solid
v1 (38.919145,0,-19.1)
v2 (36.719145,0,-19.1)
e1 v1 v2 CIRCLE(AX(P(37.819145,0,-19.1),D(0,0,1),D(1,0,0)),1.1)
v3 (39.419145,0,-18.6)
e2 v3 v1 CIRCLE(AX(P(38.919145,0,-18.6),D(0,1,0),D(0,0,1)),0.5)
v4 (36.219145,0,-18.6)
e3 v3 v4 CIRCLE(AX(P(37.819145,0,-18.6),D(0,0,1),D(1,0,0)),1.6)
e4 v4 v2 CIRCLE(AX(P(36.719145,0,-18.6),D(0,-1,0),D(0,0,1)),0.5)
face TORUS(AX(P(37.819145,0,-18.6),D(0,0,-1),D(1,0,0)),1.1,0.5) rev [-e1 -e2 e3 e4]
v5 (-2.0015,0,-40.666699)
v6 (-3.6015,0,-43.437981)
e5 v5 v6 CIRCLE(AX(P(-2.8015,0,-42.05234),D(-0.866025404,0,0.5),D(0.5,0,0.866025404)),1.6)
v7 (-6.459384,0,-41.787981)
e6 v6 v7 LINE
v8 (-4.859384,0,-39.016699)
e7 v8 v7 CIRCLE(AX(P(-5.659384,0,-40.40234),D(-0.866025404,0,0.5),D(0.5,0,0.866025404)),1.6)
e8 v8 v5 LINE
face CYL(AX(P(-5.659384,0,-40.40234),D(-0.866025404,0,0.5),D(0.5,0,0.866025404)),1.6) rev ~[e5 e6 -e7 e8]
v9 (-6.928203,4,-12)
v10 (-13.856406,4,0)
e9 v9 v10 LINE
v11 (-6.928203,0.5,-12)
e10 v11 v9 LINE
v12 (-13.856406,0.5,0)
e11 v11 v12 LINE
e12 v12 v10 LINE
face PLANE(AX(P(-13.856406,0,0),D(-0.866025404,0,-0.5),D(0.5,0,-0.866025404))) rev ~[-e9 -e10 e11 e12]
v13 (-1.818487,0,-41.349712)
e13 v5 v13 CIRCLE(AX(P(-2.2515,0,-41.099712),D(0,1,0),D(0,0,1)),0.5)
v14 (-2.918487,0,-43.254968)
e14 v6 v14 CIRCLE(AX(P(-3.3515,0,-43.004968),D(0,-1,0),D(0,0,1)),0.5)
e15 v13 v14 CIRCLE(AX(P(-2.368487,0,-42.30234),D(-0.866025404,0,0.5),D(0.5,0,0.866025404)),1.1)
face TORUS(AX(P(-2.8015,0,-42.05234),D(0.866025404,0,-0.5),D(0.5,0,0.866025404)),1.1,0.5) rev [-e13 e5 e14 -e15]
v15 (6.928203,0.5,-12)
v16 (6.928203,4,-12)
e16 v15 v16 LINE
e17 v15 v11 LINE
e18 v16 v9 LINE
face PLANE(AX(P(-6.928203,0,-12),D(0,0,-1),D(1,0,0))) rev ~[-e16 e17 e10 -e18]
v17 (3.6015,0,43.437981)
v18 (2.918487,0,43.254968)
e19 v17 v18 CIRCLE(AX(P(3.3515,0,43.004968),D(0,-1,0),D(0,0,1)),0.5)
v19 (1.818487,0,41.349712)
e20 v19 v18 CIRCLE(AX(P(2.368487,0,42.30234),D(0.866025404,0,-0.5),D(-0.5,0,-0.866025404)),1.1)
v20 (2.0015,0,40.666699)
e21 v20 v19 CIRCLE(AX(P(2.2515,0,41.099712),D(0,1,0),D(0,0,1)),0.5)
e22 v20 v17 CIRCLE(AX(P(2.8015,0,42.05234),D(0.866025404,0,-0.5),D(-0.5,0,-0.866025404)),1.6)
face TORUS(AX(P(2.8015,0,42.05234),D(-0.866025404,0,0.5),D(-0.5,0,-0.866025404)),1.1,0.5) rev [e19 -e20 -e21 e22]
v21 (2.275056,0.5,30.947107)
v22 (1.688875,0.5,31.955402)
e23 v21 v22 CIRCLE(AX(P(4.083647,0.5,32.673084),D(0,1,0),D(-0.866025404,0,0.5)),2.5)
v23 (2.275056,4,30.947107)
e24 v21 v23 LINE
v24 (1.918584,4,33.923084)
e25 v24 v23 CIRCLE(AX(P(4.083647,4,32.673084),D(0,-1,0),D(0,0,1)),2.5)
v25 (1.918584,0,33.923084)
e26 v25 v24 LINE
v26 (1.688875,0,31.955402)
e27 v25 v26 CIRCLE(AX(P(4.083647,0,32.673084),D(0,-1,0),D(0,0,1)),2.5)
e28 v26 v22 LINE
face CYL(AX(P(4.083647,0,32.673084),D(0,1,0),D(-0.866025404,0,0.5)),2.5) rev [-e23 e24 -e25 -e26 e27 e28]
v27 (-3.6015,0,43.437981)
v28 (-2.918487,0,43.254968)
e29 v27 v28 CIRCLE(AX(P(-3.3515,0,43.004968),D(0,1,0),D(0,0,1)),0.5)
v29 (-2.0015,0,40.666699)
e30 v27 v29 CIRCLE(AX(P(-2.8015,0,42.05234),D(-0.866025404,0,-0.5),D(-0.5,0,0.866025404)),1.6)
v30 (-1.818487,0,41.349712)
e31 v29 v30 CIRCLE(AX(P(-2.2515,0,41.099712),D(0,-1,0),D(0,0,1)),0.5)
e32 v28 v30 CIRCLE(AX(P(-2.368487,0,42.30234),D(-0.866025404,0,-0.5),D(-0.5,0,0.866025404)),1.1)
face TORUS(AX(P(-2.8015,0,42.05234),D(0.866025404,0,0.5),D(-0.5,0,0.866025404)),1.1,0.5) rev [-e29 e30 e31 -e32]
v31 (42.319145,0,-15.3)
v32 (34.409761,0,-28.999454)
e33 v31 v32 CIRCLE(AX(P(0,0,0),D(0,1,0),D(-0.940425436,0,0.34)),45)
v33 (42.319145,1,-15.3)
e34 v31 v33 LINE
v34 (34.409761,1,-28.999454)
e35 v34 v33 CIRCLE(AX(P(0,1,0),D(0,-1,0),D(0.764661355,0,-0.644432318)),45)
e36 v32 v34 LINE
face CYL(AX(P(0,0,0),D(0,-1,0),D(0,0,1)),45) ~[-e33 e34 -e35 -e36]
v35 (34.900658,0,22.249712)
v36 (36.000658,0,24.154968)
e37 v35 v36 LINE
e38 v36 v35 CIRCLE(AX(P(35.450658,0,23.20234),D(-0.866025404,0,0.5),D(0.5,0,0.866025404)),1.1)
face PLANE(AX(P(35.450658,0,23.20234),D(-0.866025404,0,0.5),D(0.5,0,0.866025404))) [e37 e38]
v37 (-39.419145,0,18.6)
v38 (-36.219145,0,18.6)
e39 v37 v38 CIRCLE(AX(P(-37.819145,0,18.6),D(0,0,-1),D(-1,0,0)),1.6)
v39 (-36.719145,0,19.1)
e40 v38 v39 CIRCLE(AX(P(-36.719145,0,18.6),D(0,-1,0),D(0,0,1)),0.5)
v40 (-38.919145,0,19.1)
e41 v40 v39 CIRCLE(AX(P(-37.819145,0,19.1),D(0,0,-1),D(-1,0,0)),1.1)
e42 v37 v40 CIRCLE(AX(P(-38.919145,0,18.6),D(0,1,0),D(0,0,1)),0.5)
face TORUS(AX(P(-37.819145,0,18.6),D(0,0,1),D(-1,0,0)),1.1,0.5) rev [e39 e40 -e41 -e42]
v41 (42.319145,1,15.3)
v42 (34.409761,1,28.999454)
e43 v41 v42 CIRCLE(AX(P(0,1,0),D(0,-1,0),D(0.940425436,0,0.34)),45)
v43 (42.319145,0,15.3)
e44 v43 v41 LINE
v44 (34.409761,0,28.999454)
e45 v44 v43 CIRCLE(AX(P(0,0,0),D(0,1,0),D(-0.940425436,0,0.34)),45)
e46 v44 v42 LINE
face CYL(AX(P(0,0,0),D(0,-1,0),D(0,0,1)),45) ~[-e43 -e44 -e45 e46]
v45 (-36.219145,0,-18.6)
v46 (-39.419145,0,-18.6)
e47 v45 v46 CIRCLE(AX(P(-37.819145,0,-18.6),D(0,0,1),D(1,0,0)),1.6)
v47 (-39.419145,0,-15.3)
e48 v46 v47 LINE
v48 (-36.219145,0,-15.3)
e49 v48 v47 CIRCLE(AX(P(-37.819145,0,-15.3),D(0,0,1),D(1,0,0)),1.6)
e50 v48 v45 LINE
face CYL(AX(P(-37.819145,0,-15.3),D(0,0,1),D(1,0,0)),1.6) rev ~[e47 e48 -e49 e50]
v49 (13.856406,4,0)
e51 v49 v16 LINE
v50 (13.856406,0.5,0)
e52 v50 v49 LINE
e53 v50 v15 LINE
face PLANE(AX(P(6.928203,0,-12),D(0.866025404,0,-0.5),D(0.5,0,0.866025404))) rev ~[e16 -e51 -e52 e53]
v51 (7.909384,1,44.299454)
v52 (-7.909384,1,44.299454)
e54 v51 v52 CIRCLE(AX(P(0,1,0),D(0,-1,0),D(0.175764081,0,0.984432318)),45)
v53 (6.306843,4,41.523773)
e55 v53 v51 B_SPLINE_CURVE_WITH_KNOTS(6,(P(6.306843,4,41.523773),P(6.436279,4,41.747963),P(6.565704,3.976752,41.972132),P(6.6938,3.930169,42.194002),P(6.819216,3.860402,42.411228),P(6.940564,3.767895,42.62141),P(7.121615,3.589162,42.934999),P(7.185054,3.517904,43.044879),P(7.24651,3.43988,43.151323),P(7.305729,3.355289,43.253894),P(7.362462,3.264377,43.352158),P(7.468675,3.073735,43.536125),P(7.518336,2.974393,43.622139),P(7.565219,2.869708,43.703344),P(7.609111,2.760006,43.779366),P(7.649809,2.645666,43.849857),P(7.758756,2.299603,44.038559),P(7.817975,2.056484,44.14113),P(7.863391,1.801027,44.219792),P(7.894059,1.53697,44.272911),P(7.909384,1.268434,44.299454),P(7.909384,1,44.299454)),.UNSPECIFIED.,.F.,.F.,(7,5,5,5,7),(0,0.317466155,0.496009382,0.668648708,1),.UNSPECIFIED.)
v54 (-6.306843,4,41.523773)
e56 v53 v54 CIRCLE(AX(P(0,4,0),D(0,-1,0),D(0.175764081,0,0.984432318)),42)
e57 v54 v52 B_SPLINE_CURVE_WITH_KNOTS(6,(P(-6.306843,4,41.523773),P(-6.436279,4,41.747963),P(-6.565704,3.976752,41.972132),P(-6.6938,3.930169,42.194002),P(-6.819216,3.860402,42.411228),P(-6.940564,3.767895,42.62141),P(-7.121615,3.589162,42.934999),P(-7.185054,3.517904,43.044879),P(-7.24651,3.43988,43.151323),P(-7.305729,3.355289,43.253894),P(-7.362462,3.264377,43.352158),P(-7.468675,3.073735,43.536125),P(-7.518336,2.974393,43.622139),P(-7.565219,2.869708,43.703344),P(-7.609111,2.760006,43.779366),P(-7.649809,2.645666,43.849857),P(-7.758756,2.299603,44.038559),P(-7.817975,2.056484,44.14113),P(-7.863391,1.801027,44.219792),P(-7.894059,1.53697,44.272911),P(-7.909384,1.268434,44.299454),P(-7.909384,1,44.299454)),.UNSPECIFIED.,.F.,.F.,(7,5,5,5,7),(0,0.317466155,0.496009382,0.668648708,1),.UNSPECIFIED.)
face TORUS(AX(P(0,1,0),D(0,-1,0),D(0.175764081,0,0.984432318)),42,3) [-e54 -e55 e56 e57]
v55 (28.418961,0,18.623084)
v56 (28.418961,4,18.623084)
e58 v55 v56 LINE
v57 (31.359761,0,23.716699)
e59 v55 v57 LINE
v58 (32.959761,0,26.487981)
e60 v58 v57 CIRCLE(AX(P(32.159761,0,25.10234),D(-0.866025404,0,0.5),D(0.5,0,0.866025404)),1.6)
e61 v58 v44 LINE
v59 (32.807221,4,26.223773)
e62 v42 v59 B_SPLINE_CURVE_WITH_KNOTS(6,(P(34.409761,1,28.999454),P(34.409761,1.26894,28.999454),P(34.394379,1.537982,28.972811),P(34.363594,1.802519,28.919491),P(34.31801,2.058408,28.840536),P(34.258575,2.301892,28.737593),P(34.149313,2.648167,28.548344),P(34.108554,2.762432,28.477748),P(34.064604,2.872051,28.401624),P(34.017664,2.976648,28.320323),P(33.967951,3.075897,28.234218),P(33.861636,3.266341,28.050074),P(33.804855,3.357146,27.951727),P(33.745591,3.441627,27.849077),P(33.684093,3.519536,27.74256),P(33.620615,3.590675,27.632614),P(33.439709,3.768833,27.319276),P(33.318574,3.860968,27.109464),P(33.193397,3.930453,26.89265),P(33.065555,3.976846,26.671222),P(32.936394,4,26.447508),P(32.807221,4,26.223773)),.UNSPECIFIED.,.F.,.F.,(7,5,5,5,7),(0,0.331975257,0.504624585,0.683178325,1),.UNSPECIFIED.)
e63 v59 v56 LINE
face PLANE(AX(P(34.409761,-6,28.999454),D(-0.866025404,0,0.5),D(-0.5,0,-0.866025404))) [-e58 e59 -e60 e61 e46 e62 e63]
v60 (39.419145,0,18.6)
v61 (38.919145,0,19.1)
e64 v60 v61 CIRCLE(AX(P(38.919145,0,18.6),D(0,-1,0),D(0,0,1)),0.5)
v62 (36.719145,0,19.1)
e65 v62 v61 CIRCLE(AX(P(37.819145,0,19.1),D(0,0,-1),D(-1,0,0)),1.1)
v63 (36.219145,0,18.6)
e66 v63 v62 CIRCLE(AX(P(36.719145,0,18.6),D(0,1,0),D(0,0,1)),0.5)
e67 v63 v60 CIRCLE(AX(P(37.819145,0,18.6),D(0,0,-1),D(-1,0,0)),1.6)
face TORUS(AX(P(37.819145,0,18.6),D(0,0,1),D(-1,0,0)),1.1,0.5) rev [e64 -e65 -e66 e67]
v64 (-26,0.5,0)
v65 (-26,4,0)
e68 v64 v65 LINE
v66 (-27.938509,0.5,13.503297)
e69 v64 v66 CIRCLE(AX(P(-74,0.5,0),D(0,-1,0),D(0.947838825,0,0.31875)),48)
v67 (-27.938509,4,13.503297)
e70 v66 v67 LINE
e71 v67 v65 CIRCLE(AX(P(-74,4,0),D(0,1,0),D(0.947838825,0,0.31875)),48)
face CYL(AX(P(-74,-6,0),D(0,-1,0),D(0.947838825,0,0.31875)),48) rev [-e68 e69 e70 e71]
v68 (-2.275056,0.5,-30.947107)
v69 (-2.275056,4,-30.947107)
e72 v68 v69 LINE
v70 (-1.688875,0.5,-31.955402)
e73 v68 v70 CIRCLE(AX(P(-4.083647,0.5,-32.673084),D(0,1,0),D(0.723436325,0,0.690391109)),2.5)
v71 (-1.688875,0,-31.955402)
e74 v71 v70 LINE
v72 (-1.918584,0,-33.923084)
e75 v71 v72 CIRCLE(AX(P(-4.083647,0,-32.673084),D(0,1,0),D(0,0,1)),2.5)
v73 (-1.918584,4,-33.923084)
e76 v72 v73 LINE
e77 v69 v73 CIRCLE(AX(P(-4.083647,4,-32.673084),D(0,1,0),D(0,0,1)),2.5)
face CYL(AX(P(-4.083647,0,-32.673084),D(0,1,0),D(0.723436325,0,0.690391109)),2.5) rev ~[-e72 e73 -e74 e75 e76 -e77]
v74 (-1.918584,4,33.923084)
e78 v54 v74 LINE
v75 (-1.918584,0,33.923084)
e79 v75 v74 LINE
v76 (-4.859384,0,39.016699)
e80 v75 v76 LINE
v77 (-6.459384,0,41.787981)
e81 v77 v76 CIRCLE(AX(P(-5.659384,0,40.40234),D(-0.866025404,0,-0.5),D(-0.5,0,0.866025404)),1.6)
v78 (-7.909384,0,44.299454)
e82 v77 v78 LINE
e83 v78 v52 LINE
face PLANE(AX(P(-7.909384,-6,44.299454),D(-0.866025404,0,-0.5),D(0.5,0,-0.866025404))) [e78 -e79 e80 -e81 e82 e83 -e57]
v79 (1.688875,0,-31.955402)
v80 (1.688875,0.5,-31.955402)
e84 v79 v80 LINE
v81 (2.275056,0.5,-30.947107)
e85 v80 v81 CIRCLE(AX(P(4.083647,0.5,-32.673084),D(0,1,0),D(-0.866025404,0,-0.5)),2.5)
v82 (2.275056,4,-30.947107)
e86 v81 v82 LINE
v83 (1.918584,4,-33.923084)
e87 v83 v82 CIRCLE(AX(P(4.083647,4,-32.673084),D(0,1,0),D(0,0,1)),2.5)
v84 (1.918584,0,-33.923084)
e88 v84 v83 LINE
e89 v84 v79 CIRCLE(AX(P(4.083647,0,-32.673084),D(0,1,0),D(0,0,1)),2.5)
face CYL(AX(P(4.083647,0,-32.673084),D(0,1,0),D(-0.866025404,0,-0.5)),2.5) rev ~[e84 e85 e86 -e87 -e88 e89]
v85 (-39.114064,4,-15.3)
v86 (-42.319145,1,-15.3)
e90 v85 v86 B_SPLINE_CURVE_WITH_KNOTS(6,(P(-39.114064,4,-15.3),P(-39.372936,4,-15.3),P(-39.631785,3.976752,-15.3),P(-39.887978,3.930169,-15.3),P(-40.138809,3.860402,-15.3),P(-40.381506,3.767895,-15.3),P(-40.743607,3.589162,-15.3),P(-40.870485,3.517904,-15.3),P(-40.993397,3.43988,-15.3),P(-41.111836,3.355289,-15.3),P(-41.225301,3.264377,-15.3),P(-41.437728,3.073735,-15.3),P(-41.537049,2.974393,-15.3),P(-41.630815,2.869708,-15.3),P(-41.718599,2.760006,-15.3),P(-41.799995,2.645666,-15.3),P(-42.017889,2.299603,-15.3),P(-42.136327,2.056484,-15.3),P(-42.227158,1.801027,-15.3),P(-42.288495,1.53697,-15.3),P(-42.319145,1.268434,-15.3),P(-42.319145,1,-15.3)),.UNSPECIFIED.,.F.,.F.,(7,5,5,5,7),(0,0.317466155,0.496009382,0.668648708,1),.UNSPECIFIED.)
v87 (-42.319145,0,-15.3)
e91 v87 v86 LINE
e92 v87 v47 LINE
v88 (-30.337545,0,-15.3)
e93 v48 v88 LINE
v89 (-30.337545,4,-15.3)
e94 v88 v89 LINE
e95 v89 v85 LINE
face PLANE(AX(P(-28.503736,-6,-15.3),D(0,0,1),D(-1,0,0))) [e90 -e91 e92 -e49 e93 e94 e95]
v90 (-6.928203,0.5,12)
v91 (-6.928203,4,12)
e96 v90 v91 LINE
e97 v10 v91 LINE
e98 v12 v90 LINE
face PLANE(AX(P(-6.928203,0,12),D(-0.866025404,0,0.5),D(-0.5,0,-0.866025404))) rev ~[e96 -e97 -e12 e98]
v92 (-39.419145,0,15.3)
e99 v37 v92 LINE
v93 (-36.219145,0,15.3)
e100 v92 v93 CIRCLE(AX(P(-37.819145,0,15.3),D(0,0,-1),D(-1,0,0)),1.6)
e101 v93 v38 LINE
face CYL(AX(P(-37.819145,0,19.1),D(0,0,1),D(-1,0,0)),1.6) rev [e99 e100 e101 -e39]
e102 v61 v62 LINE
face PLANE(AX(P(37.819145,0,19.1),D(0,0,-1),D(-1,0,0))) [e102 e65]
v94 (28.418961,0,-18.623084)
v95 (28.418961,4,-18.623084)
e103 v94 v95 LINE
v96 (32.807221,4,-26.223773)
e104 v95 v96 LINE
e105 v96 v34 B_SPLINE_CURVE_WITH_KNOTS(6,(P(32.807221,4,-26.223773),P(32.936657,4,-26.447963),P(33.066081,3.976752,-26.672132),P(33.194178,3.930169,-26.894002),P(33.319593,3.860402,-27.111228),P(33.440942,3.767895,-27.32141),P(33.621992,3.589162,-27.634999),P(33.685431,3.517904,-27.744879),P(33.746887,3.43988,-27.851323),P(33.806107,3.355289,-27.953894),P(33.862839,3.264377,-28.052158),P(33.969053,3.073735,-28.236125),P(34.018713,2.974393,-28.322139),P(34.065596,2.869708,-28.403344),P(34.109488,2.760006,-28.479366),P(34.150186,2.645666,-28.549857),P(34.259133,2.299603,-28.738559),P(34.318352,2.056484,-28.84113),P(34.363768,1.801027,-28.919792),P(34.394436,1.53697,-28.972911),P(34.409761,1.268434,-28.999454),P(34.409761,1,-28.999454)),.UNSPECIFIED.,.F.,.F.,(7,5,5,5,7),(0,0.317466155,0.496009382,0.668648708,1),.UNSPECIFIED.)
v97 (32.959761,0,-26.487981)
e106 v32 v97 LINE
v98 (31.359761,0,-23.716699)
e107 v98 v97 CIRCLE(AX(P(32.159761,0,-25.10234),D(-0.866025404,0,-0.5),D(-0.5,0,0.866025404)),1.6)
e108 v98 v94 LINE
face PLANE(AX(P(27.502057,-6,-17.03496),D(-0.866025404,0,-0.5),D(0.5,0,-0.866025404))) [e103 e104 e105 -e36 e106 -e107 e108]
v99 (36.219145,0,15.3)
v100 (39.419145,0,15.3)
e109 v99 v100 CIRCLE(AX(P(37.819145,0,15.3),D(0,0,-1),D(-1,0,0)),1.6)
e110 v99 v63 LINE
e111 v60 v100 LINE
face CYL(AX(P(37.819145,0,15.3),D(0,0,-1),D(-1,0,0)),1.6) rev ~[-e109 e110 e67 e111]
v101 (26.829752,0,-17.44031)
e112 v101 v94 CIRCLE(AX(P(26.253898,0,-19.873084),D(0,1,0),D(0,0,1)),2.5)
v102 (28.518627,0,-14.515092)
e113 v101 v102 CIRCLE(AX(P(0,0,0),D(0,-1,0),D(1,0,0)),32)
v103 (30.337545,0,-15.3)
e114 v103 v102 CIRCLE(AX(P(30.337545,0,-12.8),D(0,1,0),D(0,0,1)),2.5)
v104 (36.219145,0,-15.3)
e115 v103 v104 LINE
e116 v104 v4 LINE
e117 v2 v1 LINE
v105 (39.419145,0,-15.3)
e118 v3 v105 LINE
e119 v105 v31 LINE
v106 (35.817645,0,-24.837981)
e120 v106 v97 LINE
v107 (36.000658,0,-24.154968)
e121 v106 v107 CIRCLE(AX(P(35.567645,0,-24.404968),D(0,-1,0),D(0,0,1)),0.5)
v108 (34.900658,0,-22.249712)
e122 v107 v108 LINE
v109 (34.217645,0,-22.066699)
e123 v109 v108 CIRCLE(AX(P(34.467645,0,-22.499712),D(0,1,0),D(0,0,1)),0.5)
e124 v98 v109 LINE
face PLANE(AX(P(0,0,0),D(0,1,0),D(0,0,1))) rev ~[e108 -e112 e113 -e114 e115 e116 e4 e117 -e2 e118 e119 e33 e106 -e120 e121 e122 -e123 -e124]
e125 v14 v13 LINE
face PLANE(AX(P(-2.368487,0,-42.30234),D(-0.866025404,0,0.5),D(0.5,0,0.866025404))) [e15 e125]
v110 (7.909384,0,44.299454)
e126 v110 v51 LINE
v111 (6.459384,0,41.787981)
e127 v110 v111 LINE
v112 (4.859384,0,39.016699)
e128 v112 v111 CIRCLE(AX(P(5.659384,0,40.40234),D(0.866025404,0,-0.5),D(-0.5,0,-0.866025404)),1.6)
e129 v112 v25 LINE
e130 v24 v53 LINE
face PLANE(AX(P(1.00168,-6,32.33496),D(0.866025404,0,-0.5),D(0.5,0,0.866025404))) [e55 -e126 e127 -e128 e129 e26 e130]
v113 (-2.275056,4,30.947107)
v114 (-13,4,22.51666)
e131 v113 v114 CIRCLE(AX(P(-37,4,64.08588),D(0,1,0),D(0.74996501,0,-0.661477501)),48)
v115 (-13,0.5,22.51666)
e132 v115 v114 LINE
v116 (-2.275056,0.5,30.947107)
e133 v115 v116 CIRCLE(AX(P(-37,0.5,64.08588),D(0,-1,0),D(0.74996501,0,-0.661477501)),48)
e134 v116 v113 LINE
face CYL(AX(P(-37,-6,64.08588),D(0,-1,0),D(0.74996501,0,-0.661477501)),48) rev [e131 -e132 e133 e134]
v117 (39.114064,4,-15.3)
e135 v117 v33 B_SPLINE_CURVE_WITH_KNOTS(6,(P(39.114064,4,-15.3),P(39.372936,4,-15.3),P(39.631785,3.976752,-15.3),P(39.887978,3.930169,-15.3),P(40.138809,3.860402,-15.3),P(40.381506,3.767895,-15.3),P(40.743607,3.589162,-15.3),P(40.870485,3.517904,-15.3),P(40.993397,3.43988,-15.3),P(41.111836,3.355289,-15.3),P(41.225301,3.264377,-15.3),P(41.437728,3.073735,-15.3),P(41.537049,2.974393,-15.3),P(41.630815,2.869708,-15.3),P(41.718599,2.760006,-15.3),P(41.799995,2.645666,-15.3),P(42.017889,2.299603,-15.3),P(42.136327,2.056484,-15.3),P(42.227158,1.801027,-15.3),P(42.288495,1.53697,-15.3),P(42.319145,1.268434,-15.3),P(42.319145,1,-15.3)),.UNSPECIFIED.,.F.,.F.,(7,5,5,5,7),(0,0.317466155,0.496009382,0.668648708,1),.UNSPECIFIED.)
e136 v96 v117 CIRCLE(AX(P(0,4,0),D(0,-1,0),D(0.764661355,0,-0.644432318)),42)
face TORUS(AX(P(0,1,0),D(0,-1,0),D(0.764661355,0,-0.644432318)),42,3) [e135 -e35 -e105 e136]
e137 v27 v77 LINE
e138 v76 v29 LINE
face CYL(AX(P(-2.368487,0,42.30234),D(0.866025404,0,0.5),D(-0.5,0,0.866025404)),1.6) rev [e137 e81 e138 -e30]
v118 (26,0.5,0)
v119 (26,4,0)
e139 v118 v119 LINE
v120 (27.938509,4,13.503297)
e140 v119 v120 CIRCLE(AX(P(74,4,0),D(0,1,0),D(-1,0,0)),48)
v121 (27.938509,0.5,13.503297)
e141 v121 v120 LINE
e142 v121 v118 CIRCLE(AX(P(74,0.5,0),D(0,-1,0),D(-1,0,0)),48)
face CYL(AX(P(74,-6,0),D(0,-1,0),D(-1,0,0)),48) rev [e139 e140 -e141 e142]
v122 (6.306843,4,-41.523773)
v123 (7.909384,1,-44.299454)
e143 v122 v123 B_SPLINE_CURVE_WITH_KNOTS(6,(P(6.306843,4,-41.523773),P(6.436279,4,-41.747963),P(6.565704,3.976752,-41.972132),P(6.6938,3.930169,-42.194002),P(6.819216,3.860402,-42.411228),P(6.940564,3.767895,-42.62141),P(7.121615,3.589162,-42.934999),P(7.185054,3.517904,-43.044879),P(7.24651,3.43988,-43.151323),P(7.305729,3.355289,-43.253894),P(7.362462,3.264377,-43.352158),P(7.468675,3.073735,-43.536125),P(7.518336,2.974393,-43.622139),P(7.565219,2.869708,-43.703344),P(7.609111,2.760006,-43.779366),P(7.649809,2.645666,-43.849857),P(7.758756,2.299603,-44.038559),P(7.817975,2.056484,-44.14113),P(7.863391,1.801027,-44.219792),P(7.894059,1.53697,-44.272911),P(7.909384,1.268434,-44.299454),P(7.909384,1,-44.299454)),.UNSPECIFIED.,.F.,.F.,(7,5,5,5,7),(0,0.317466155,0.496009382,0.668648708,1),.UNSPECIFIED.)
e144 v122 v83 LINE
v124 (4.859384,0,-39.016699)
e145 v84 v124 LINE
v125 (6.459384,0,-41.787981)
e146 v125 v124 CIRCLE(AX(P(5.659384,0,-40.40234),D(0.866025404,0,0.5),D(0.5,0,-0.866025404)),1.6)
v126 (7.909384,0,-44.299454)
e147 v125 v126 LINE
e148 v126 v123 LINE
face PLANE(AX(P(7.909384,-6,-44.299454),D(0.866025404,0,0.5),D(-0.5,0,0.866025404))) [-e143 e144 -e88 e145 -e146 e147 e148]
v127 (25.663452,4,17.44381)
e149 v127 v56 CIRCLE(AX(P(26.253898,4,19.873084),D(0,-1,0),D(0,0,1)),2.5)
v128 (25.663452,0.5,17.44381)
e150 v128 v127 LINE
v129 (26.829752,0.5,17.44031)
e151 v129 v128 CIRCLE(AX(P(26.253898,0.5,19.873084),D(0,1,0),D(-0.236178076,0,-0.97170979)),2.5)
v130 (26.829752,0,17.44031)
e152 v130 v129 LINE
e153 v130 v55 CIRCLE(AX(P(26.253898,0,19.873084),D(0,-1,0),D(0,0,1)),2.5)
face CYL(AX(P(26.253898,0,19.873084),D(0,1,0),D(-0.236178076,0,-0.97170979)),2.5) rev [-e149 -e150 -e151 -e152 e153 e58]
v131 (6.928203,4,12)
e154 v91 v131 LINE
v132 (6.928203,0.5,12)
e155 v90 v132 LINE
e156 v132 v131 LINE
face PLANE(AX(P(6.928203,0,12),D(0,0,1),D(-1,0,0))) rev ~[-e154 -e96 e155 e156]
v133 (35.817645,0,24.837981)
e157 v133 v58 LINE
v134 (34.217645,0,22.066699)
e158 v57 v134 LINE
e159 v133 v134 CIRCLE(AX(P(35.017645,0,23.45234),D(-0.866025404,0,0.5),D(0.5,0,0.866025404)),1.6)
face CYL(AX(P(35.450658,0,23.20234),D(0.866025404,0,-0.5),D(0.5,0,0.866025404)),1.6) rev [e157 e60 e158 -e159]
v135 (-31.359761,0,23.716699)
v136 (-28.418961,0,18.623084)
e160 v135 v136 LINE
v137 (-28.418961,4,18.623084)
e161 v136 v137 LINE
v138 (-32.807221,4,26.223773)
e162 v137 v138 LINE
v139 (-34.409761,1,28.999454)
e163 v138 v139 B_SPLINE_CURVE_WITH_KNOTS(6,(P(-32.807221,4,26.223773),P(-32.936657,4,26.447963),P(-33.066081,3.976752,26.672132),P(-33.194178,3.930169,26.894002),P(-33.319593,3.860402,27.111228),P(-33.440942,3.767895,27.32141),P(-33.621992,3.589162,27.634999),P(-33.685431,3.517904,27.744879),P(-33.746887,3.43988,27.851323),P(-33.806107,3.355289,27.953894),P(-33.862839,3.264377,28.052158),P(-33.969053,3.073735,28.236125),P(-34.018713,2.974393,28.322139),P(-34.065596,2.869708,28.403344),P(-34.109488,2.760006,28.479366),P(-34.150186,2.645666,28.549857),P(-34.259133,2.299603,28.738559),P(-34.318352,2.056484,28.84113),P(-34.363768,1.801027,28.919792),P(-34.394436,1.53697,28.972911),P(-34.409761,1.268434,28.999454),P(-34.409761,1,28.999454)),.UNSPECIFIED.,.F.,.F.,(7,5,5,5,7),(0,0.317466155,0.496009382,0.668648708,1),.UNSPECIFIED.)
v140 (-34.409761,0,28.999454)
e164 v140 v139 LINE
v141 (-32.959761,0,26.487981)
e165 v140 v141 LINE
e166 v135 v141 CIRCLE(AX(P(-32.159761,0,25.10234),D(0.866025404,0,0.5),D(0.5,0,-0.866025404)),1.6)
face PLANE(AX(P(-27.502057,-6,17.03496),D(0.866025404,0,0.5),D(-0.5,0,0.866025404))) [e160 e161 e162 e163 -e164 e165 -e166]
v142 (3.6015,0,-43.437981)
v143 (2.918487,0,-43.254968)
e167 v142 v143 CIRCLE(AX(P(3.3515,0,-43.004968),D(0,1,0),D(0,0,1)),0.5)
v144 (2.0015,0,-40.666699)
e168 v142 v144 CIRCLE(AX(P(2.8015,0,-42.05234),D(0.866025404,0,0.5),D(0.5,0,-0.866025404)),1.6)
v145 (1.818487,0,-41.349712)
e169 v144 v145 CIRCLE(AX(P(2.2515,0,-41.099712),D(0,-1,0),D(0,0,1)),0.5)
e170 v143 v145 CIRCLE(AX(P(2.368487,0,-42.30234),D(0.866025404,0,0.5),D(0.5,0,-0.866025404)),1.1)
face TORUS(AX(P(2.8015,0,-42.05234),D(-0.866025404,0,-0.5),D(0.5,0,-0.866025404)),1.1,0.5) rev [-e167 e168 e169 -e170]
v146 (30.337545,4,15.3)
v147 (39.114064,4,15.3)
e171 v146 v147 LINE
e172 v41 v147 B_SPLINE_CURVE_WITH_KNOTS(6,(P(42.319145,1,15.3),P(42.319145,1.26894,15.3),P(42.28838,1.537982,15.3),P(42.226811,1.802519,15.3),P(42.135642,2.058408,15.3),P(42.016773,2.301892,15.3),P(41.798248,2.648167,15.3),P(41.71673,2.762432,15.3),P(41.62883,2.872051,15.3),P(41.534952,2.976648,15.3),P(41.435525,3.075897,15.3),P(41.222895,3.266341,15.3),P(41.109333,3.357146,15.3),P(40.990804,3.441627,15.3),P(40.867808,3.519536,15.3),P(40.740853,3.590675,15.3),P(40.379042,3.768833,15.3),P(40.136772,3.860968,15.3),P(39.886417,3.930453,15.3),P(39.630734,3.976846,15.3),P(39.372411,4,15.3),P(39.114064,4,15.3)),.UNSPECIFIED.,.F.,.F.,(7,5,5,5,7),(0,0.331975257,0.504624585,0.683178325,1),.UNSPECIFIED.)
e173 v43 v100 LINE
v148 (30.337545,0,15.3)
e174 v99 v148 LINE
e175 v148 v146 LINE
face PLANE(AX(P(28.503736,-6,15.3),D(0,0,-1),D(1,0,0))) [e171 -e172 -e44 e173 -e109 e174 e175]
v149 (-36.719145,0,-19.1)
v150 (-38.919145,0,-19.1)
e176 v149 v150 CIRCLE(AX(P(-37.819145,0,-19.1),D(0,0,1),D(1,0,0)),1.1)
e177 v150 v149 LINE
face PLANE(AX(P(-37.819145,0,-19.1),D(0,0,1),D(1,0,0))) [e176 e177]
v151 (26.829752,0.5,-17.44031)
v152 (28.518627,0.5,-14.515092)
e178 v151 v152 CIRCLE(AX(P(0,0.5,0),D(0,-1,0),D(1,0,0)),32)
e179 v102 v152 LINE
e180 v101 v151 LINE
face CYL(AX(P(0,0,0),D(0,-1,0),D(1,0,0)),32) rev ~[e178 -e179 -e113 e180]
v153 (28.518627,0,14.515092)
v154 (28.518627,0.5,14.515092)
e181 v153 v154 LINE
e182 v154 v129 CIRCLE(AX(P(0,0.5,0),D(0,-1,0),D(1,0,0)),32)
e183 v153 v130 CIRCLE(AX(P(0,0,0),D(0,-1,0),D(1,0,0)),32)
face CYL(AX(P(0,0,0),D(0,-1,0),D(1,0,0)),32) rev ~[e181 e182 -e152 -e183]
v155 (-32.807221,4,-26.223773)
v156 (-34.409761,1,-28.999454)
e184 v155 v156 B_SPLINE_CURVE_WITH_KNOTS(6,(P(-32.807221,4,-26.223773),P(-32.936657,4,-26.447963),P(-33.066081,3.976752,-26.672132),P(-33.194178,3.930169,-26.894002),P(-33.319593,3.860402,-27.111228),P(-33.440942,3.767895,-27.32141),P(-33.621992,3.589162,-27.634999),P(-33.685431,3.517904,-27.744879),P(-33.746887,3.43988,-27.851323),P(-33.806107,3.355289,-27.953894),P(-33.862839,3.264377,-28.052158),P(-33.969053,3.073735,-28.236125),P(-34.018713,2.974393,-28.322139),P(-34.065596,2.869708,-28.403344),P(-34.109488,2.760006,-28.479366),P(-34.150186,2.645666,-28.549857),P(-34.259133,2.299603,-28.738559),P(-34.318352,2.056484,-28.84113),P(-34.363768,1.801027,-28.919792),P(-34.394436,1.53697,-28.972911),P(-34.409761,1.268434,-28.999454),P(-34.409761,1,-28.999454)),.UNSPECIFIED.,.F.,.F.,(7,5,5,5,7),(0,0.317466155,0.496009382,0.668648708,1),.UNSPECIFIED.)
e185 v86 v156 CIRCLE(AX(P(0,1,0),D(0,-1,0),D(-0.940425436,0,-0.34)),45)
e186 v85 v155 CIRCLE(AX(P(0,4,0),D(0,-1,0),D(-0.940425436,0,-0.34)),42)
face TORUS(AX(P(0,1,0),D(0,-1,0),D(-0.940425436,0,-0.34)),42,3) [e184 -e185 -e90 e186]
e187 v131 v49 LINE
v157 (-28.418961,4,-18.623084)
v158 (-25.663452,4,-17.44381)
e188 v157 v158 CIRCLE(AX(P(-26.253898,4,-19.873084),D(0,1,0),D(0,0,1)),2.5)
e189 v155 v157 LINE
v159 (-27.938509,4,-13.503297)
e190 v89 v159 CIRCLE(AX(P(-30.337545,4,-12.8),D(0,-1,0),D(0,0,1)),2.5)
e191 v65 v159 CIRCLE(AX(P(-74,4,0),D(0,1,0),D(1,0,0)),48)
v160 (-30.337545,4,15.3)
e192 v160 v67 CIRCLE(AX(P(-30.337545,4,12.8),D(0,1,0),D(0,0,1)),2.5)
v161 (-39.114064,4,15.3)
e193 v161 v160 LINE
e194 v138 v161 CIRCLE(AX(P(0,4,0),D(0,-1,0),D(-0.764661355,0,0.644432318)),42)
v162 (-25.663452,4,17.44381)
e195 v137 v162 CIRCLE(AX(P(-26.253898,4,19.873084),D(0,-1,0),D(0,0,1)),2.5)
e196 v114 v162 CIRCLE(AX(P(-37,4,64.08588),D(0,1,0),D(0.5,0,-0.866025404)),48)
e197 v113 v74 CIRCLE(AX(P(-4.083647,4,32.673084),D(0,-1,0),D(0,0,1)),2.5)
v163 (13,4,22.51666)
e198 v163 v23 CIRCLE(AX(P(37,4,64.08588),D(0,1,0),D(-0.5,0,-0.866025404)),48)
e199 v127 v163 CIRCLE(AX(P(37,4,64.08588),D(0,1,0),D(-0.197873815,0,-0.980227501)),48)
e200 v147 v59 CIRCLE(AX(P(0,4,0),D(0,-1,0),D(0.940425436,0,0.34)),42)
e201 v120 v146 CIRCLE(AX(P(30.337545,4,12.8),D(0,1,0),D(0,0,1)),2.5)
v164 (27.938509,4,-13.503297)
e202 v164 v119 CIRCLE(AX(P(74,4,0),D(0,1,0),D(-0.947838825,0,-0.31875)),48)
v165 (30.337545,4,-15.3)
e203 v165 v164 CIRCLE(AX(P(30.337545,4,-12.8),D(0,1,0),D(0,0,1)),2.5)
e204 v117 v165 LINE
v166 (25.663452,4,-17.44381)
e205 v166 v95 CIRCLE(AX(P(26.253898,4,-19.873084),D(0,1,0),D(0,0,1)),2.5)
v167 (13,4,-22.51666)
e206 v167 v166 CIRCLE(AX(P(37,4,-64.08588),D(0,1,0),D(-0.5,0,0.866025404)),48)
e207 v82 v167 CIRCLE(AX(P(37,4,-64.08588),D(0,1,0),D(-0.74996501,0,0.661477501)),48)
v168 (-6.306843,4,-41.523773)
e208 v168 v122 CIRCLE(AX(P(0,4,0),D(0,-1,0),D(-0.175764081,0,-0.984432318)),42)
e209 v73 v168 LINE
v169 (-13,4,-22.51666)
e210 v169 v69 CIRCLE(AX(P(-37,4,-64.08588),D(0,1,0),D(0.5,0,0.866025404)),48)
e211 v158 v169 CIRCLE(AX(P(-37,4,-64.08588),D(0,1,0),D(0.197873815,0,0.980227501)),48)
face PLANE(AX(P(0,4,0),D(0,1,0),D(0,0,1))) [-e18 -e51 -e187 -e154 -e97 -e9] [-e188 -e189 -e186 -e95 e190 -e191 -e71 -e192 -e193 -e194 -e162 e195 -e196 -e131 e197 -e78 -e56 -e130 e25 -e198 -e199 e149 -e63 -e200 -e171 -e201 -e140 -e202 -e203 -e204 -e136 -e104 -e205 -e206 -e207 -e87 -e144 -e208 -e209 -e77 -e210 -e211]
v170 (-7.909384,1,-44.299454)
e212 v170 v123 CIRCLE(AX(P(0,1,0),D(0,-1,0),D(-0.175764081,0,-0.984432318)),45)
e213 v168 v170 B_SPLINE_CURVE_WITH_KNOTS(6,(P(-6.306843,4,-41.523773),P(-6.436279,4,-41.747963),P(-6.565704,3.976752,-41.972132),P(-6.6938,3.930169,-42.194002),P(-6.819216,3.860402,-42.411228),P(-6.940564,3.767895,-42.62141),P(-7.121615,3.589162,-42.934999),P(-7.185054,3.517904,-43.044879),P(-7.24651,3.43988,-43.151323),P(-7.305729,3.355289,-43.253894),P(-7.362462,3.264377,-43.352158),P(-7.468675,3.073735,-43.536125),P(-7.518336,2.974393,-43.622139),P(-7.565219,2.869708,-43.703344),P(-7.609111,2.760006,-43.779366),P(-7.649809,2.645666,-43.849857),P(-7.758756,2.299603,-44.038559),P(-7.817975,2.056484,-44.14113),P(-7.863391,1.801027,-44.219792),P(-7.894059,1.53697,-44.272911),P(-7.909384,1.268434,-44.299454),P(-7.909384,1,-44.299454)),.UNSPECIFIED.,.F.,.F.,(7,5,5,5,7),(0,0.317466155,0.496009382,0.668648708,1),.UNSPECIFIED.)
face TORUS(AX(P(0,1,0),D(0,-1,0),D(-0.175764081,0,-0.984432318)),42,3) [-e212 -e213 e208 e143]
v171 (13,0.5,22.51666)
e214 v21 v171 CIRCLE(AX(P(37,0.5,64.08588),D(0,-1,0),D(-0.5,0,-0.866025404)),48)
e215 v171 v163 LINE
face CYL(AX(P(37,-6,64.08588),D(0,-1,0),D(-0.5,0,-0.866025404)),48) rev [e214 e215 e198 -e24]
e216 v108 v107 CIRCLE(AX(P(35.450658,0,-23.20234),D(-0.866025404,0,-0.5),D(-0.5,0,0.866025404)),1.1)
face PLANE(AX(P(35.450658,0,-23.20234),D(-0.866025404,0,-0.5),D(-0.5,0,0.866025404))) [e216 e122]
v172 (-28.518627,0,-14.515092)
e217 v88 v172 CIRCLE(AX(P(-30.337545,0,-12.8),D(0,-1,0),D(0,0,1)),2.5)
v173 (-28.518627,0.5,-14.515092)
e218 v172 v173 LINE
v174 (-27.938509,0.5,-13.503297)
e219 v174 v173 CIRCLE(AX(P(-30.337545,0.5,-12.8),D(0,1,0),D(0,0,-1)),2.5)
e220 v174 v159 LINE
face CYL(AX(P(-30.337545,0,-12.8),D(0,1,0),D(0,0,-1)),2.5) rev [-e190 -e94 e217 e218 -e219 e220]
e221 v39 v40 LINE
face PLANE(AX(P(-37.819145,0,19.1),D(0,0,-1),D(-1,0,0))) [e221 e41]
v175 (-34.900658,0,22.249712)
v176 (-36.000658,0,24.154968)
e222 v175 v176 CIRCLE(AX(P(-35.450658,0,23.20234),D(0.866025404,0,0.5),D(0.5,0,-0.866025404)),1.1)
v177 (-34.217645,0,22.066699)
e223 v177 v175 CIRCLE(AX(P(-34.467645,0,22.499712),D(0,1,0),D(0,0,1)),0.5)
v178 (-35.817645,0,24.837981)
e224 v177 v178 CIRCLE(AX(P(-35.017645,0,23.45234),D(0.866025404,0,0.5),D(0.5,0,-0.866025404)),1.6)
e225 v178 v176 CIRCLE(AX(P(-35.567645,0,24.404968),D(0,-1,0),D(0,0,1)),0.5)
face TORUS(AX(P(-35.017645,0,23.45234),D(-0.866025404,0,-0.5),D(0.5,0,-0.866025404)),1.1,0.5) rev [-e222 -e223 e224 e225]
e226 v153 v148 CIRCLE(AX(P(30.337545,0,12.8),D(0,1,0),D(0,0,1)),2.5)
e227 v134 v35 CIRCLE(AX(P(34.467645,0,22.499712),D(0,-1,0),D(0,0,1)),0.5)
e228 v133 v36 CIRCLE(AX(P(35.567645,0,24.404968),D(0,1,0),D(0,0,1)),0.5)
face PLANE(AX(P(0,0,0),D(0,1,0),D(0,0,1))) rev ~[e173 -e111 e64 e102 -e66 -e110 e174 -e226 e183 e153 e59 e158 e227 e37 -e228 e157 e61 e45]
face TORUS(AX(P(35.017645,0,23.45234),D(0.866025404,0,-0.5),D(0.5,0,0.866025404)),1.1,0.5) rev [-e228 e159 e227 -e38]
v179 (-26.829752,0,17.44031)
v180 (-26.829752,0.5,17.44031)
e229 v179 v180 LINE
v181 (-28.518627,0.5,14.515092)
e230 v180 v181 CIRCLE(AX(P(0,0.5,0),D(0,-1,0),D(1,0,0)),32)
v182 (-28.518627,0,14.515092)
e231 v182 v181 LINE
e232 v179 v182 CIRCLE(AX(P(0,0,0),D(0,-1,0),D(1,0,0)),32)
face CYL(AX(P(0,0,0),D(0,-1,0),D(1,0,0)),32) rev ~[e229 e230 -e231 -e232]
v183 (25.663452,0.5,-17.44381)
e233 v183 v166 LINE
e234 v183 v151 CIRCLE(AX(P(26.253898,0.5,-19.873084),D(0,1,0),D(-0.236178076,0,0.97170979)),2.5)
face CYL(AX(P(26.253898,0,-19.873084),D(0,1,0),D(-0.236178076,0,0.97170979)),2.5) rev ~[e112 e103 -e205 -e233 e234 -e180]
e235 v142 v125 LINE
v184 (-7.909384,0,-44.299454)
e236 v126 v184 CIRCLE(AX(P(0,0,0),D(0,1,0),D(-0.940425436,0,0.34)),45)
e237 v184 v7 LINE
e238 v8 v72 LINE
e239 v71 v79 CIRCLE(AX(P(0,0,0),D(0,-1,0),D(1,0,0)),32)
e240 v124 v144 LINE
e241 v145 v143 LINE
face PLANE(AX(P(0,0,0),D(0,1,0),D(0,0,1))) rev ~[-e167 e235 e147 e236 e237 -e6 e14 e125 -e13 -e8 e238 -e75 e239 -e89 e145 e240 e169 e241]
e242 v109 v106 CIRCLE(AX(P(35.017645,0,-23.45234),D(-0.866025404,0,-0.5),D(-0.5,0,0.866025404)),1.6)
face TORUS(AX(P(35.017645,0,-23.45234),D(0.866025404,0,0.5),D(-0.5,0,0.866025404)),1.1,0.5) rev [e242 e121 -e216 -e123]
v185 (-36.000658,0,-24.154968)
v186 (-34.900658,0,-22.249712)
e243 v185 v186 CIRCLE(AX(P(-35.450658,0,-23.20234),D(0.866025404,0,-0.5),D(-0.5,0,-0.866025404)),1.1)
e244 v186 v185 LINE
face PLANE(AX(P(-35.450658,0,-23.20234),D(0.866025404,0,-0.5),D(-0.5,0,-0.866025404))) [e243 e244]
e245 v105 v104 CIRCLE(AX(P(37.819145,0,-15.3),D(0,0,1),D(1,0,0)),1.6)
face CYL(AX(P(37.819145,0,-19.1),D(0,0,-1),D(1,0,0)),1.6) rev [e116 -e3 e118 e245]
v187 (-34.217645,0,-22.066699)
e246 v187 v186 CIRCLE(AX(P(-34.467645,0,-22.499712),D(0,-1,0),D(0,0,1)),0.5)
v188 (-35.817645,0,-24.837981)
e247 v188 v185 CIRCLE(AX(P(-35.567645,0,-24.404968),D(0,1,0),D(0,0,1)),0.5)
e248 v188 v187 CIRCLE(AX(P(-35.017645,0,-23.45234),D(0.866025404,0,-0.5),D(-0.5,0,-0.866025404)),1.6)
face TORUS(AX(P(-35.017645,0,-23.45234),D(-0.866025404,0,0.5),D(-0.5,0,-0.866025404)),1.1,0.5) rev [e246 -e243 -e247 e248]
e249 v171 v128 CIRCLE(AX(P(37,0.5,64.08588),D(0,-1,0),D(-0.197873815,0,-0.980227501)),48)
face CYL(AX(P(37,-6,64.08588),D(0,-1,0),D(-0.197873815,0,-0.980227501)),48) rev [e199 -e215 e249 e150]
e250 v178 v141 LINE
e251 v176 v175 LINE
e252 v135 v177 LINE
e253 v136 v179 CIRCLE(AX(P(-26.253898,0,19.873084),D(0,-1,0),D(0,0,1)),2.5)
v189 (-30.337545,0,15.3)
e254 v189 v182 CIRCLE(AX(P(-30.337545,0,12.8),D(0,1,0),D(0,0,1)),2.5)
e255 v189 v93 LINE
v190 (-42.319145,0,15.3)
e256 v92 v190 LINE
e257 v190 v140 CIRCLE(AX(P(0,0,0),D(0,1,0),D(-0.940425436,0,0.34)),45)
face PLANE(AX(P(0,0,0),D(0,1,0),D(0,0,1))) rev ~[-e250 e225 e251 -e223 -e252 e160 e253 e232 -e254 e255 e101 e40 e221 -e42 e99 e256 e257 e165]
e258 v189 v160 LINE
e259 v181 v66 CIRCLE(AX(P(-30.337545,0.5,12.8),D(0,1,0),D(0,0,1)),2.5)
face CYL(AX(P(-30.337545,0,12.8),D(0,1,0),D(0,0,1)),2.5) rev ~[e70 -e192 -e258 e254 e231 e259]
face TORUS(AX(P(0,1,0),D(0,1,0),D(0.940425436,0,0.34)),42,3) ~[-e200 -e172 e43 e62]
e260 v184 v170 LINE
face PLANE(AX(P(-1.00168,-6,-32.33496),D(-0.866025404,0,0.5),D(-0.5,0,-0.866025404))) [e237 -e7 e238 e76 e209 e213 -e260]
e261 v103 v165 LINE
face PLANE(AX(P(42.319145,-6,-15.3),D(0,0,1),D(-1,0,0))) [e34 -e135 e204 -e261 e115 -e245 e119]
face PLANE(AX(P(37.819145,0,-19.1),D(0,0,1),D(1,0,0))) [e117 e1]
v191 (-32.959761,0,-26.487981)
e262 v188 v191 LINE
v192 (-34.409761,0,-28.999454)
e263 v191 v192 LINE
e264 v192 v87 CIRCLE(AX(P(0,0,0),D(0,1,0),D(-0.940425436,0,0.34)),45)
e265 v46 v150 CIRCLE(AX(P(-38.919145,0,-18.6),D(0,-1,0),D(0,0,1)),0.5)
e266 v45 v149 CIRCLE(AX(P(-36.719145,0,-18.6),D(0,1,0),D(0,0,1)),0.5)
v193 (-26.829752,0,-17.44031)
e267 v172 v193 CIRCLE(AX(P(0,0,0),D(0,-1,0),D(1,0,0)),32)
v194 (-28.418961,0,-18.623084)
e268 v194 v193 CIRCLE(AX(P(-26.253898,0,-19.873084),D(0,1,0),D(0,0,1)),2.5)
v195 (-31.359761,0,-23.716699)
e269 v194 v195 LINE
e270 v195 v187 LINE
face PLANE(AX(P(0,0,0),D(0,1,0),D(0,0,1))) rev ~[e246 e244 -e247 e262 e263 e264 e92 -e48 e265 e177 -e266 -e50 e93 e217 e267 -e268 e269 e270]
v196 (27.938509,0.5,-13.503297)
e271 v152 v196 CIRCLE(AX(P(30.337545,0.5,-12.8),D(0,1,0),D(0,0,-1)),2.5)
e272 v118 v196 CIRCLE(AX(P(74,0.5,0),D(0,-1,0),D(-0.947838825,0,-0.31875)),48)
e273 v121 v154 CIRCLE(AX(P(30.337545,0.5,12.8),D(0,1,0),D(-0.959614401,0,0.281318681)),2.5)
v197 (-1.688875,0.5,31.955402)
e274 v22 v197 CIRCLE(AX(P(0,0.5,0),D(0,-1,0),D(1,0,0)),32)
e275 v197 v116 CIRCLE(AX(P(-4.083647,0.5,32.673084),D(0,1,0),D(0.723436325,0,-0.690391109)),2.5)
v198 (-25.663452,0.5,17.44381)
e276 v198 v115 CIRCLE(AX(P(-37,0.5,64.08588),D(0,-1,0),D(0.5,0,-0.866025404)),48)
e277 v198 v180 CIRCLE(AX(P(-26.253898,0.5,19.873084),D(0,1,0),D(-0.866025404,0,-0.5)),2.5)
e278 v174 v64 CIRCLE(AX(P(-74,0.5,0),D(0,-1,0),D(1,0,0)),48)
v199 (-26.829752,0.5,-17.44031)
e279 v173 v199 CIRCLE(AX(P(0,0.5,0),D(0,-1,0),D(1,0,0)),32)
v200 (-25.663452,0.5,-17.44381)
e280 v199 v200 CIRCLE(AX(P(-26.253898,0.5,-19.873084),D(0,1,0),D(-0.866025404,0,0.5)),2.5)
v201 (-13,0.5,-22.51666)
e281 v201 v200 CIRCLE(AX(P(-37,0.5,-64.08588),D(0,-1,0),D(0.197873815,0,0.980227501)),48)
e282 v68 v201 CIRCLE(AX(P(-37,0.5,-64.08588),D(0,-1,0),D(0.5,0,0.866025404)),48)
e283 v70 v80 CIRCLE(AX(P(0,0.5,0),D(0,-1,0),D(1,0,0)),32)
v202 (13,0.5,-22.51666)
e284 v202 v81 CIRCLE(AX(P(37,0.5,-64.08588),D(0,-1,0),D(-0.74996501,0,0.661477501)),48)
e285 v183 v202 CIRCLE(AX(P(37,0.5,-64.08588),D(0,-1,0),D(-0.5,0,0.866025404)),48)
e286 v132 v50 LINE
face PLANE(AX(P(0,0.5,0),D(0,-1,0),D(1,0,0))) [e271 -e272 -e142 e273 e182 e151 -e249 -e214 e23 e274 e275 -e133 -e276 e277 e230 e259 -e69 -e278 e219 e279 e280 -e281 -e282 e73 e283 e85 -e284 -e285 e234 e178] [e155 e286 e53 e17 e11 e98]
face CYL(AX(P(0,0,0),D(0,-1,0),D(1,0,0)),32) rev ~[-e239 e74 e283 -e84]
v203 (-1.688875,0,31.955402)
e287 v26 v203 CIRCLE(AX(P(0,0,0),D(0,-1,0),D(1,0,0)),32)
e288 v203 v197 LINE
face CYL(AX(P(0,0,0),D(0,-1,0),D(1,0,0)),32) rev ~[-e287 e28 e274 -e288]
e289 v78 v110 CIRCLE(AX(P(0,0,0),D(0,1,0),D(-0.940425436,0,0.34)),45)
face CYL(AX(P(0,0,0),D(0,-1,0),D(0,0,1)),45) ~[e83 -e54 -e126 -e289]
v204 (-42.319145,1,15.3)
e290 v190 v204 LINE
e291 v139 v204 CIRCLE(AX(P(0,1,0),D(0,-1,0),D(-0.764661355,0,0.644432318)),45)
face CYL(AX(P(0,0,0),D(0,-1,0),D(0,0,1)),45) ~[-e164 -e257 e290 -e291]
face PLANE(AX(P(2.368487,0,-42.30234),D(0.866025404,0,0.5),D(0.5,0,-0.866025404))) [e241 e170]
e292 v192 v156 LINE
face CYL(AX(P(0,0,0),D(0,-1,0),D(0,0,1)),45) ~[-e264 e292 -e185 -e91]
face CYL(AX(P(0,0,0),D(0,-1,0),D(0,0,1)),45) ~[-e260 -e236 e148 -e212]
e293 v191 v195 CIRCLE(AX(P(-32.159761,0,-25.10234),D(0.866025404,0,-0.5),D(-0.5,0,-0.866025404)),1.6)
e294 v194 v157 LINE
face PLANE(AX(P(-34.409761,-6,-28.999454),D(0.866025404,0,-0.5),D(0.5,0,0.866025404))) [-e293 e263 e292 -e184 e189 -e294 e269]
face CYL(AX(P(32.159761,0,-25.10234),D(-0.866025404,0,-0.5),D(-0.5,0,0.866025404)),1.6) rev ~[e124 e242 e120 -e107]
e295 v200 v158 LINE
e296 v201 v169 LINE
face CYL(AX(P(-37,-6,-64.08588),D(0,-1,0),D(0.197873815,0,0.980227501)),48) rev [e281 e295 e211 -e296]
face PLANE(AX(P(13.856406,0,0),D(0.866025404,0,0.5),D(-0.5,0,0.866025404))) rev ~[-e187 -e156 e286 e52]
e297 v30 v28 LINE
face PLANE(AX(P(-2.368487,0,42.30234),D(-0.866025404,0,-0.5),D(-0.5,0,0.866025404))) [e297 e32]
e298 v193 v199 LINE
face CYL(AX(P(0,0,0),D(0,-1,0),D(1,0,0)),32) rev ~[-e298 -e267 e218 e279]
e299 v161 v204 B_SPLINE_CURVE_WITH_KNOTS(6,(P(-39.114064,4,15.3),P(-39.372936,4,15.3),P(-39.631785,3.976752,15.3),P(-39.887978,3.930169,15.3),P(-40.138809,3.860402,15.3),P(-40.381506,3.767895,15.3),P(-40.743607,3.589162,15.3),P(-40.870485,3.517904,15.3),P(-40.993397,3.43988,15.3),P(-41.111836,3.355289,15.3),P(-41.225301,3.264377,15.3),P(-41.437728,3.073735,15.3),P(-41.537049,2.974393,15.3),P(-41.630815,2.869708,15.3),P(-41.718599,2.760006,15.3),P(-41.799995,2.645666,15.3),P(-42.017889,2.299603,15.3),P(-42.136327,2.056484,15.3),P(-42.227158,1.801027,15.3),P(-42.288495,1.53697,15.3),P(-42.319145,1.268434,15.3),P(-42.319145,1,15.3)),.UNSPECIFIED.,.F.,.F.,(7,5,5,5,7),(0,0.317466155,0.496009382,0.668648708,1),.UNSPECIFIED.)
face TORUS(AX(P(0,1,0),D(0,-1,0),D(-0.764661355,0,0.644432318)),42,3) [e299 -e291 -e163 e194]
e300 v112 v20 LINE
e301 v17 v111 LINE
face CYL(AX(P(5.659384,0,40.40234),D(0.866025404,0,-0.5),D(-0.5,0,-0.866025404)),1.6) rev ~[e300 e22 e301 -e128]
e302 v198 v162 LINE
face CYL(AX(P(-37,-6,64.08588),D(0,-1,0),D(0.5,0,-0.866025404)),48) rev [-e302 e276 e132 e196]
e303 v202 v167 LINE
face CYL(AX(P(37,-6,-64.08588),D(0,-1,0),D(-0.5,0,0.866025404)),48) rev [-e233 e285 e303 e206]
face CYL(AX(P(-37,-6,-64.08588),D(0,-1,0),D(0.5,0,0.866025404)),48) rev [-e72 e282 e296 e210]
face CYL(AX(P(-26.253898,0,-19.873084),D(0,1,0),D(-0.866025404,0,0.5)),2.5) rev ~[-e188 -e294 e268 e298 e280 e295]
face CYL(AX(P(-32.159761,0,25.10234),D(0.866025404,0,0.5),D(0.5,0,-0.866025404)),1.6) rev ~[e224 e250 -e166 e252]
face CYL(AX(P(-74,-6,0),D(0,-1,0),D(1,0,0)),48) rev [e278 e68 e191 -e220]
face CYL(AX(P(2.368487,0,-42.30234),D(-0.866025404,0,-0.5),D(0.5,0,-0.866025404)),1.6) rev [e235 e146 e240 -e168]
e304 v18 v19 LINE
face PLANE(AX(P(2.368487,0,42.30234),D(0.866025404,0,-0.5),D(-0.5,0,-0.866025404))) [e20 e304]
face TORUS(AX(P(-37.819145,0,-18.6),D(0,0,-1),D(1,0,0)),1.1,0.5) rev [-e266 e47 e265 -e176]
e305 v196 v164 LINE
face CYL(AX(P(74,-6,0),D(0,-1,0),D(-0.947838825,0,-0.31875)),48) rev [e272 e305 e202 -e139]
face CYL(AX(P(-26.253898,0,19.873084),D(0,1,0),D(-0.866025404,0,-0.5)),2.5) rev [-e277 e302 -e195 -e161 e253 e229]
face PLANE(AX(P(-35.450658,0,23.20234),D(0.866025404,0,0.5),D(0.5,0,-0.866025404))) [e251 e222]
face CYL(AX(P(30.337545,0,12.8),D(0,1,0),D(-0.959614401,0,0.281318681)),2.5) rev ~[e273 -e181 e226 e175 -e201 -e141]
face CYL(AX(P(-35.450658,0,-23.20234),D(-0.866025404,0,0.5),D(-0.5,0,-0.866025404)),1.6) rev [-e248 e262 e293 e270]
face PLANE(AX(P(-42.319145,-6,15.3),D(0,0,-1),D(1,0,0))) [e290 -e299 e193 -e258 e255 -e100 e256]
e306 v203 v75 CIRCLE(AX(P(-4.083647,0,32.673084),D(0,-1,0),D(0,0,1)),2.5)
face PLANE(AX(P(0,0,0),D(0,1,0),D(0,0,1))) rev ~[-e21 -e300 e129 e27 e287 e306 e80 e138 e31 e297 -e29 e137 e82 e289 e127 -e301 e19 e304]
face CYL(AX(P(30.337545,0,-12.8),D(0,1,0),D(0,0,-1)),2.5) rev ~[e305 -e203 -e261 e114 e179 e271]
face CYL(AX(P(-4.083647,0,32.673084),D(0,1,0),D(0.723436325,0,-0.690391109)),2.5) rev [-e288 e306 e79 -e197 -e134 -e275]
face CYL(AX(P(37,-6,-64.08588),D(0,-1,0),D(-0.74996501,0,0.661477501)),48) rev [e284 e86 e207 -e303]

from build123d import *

# Parameters (mm, degrees)
SKIZZE1_R                       = 45
AUFSATZ_LINEAR_AUSTRAGEN1_DEPTH = 4
SCHNITT_LINEAR_START            = -10
SCHNITT_LINEAR_AUSTRAGEN2_DEPTH = 10
KREISMUSTER1_COUNT              = 6
SCHNITT_LINEAR_AUSTRAGEN3_DEPTH = 10
VERRUNDUNG1_R                   = 2.5
SKIZZE5_R                       = 1.6
SCHNITT_LINEAR_AUSTRAGEN5_DEPTH = 3.8
VERRUNDUNG6_R                   = 0.5
KREISMUSTER2_COUNT              = 6
VERRUNDUNG6_OF_KREISMUSTER2_R   = 0.5
SCHNITT_LINEAR_START_2          = -3.8
SKIZZE6_R                       = 1.6
SCHNITT_LINEAR_AUSTRAGEN6_DEPTH = 3.8
VERRUNDUNG7_R                   = 0.5
KREISMUSTER3_COUNT              = 6
VERRUNDUNG7_OF_KREISMUSTER3_R   = 0.5
SKIZZE7_R                       = 32
SCHNITT_LINEAR_AUSTRAGEN7_DEPTH = 0.5
VERRUNDUNG2_R                   = 3


with BuildPart() as part:
    # Skizze1 → Aufsatz-Linear austragen1 (new body)
    with BuildSketch(Plane(origin=(0, 0, 0), x_dir=(1, 0, 0), z_dir=(0, 1, 0))):
        with Locations(Location((0, 0, 0), (0, 0, 270))):
            Circle(SKIZZE1_R)
    extrude(amount=AUFSATZ_LINEAR_AUSTRAGEN1_DEPTH)

    # Skizze2 → Schnitt-Linear austragen2 (cut)
    with BuildSketch(Plane(origin=(0, 4, 0), x_dir=(1, 0, 0), z_dir=(0, 1, 0)).offset(SCHNITT_LINEAR_START)):
        with BuildLine():
            ThreePointArc((-26, 0), (-26.63006939, 7.751752964), (-28.503736417, 15.3))
            Line((-28.503736417, 15.3), (-42.319144604, 15.3))
            ThreePointArc((-42.319144604, 15.3), (-45, 0), (-42.319144604, -15.3))
            Line((-42.319144604, -15.3), (-28.503736417, -15.3))
            ThreePointArc((-28.503736417, -15.3), (-26.63006939, -7.751752964), (-26, 0))
        make_face()
    schnitt_linear_austragen2 = extrude(amount=SCHNITT_LINEAR_AUSTRAGEN2_DEPTH, mode=Mode.SUBTRACT)

    # Kreismuster1: Schnitt-Linear austragen2 ×6 about axis
    kreismuster1_axis = Axis((0, 0, 0), (0, 1, 0))
    for i in range(1, KREISMUSTER1_COUNT):
        add(schnitt_linear_austragen2.rotate(kreismuster1_axis, i * 360 / KREISMUSTER1_COUNT), mode=Mode.SUBTRACT)

    # Skizze3 → Schnitt-Linear austragen3 (cut)
    with BuildSketch(Plane.XZ):
        Polygon((13.856406461, 0), (6.92820323, 12), (-6.92820323, 12), (-13.856406461, 0), (-6.92820323, -12), (6.92820323, -12), align=None)
    extrude(amount=-SCHNITT_LINEAR_AUSTRAGEN3_DEPTH, mode=Mode.SUBTRACT)

    # Verrundung1
    verrundung1_edges = [part.edges().sort_by_distance(p)[0] for p in [
        (-28.503736417, 2, 15.3),
        (-28.503736417, 2, -15.3),
        (-27.502056886, 2, -17.03495984),
        (-1.001679531, 2, -32.33495984),
        (1.001679531, 2, -32.33495984),
        (27.502056886, 2, -17.03495984),
        (28.503736417, 2, -15.3),
        (28.503736417, 2, 15.3),
        (27.502056886, 2, 17.03495984),
        (1.001679531, 2, 32.33495984),
        (-1.001679531, 2, 32.33495984),
        (-27.502056886, 2, 17.03495984),
    ]]
    fillet(verrundung1_edges, radius=VERRUNDUNG1_R)

    # Skizze5 → Schnitt-Linear austragen5 (cut)
    with BuildSketch(Plane(origin=(13.250188678, 0, 7.65), x_dir=(-0.4999999999999918, 0, 0.8660254037844434), z_dir=(-0.8660254037844434, 0, -0.4999999999999918))):
        with Locations((-37.819144604, 0)):
            Circle(SKIZZE5_R)
    schnitt_linear_austragen5 = extrude(amount=-SCHNITT_LINEAR_AUSTRAGEN5_DEPTH, mode=Mode.SUBTRACT)

    # Verrundung6
    verrundung6_edges = [part.edges().sort_by_distance(p)[0] for p in [
        (35.450657514, 1.6, -23.202339976),
    ]]
    fillet(verrundung6_edges, radius=VERRUNDUNG6_R)

    # Kreismuster2: Schnitt-Linear austragen5 ×6 about axis
    kreismuster2_axis = Axis((0, 0, 0), (0, 1, 0))
    for i in range(1, KREISMUSTER2_COUNT):
        add(schnitt_linear_austragen5.rotate(kreismuster2_axis, i * 360 / KREISMUSTER2_COUNT), mode=Mode.SUBTRACT)

    # Verrundung6 of Kreismuster2
    verrundung6_of_kreismuster2_edges = [part.edges().sort_by_distance(p)[0] for p in [
        (-2.36848709, 1.6, -42.302339976),
        (-37.819144604, 1.6, -19.1),
        (-35.450657514, 1.6, 23.202339976),
        (2.36848709, 1.6, 42.302339976),
        (37.819144604, 1.6, 19.1),
    ]]
    fillet(verrundung6_of_kreismuster2_edges, radius=VERRUNDUNG6_OF_KREISMUSTER2_R)

    # Skizze6 → Schnitt-Linear austragen6 (cut)
    with BuildSketch(Plane.XY.offset(-15.3).offset(SCHNITT_LINEAR_START_2)):
        with Locations((37.819144604, 0)):
            Circle(SKIZZE6_R)
    schnitt_linear_austragen6 = extrude(amount=SCHNITT_LINEAR_AUSTRAGEN6_DEPTH, mode=Mode.SUBTRACT)

    # Verrundung7
    verrundung7_edges = [part.edges().sort_by_distance(p)[0] for p in [
        (37.819144604, 1.6, -19.1),
    ]]
    fillet(verrundung7_edges, radius=VERRUNDUNG7_R)

    # Kreismuster3: Schnitt-Linear austragen6 ×6 about axis
    kreismuster3_axis = Axis((0, 0, 0), (0, 1, 0))
    for i in range(1, KREISMUSTER3_COUNT):
        add(schnitt_linear_austragen6.rotate(kreismuster3_axis, i * 360 / KREISMUSTER3_COUNT), mode=Mode.SUBTRACT)

    # Verrundung7 of Kreismuster3
    verrundung7_of_kreismuster3_edges = [part.edges().sort_by_distance(p)[0] for p in [
        (2.36848709, 1.6, -42.302339976),
        (-35.450657514, 1.6, -23.202339976),
        (-37.819144604, 1.6, 19.1),
        (-2.36848709, 1.6, 42.302339976),
        (35.450657514, 1.6, 23.202339976),
    ]]
    fillet(verrundung7_of_kreismuster3_edges, radius=VERRUNDUNG7_OF_KREISMUSTER3_R)

    # Skizze7 → Schnitt-Linear austragen7 (cut)
    with BuildSketch(Plane.XZ):
        Circle(SKIZZE7_R)
    extrude(amount=-SCHNITT_LINEAR_AUSTRAGEN7_DEPTH, mode=Mode.SUBTRACT)

    # Verrundung2
    verrundung2_edges = [part.edges().sort_by_distance(p)[0] for p in [
        (0, 4, 45),
        (38.97114317, 4, 22.5),
        (38.97114317, 4, -22.5),
        (0, 4, -45),
        (-38.97114317, 4, -22.5),
        (-38.97114317, 4, 22.5),
    ]]
    fillet(verrundung2_edges, radius=VERRUNDUNG2_R)


solid = part.part
